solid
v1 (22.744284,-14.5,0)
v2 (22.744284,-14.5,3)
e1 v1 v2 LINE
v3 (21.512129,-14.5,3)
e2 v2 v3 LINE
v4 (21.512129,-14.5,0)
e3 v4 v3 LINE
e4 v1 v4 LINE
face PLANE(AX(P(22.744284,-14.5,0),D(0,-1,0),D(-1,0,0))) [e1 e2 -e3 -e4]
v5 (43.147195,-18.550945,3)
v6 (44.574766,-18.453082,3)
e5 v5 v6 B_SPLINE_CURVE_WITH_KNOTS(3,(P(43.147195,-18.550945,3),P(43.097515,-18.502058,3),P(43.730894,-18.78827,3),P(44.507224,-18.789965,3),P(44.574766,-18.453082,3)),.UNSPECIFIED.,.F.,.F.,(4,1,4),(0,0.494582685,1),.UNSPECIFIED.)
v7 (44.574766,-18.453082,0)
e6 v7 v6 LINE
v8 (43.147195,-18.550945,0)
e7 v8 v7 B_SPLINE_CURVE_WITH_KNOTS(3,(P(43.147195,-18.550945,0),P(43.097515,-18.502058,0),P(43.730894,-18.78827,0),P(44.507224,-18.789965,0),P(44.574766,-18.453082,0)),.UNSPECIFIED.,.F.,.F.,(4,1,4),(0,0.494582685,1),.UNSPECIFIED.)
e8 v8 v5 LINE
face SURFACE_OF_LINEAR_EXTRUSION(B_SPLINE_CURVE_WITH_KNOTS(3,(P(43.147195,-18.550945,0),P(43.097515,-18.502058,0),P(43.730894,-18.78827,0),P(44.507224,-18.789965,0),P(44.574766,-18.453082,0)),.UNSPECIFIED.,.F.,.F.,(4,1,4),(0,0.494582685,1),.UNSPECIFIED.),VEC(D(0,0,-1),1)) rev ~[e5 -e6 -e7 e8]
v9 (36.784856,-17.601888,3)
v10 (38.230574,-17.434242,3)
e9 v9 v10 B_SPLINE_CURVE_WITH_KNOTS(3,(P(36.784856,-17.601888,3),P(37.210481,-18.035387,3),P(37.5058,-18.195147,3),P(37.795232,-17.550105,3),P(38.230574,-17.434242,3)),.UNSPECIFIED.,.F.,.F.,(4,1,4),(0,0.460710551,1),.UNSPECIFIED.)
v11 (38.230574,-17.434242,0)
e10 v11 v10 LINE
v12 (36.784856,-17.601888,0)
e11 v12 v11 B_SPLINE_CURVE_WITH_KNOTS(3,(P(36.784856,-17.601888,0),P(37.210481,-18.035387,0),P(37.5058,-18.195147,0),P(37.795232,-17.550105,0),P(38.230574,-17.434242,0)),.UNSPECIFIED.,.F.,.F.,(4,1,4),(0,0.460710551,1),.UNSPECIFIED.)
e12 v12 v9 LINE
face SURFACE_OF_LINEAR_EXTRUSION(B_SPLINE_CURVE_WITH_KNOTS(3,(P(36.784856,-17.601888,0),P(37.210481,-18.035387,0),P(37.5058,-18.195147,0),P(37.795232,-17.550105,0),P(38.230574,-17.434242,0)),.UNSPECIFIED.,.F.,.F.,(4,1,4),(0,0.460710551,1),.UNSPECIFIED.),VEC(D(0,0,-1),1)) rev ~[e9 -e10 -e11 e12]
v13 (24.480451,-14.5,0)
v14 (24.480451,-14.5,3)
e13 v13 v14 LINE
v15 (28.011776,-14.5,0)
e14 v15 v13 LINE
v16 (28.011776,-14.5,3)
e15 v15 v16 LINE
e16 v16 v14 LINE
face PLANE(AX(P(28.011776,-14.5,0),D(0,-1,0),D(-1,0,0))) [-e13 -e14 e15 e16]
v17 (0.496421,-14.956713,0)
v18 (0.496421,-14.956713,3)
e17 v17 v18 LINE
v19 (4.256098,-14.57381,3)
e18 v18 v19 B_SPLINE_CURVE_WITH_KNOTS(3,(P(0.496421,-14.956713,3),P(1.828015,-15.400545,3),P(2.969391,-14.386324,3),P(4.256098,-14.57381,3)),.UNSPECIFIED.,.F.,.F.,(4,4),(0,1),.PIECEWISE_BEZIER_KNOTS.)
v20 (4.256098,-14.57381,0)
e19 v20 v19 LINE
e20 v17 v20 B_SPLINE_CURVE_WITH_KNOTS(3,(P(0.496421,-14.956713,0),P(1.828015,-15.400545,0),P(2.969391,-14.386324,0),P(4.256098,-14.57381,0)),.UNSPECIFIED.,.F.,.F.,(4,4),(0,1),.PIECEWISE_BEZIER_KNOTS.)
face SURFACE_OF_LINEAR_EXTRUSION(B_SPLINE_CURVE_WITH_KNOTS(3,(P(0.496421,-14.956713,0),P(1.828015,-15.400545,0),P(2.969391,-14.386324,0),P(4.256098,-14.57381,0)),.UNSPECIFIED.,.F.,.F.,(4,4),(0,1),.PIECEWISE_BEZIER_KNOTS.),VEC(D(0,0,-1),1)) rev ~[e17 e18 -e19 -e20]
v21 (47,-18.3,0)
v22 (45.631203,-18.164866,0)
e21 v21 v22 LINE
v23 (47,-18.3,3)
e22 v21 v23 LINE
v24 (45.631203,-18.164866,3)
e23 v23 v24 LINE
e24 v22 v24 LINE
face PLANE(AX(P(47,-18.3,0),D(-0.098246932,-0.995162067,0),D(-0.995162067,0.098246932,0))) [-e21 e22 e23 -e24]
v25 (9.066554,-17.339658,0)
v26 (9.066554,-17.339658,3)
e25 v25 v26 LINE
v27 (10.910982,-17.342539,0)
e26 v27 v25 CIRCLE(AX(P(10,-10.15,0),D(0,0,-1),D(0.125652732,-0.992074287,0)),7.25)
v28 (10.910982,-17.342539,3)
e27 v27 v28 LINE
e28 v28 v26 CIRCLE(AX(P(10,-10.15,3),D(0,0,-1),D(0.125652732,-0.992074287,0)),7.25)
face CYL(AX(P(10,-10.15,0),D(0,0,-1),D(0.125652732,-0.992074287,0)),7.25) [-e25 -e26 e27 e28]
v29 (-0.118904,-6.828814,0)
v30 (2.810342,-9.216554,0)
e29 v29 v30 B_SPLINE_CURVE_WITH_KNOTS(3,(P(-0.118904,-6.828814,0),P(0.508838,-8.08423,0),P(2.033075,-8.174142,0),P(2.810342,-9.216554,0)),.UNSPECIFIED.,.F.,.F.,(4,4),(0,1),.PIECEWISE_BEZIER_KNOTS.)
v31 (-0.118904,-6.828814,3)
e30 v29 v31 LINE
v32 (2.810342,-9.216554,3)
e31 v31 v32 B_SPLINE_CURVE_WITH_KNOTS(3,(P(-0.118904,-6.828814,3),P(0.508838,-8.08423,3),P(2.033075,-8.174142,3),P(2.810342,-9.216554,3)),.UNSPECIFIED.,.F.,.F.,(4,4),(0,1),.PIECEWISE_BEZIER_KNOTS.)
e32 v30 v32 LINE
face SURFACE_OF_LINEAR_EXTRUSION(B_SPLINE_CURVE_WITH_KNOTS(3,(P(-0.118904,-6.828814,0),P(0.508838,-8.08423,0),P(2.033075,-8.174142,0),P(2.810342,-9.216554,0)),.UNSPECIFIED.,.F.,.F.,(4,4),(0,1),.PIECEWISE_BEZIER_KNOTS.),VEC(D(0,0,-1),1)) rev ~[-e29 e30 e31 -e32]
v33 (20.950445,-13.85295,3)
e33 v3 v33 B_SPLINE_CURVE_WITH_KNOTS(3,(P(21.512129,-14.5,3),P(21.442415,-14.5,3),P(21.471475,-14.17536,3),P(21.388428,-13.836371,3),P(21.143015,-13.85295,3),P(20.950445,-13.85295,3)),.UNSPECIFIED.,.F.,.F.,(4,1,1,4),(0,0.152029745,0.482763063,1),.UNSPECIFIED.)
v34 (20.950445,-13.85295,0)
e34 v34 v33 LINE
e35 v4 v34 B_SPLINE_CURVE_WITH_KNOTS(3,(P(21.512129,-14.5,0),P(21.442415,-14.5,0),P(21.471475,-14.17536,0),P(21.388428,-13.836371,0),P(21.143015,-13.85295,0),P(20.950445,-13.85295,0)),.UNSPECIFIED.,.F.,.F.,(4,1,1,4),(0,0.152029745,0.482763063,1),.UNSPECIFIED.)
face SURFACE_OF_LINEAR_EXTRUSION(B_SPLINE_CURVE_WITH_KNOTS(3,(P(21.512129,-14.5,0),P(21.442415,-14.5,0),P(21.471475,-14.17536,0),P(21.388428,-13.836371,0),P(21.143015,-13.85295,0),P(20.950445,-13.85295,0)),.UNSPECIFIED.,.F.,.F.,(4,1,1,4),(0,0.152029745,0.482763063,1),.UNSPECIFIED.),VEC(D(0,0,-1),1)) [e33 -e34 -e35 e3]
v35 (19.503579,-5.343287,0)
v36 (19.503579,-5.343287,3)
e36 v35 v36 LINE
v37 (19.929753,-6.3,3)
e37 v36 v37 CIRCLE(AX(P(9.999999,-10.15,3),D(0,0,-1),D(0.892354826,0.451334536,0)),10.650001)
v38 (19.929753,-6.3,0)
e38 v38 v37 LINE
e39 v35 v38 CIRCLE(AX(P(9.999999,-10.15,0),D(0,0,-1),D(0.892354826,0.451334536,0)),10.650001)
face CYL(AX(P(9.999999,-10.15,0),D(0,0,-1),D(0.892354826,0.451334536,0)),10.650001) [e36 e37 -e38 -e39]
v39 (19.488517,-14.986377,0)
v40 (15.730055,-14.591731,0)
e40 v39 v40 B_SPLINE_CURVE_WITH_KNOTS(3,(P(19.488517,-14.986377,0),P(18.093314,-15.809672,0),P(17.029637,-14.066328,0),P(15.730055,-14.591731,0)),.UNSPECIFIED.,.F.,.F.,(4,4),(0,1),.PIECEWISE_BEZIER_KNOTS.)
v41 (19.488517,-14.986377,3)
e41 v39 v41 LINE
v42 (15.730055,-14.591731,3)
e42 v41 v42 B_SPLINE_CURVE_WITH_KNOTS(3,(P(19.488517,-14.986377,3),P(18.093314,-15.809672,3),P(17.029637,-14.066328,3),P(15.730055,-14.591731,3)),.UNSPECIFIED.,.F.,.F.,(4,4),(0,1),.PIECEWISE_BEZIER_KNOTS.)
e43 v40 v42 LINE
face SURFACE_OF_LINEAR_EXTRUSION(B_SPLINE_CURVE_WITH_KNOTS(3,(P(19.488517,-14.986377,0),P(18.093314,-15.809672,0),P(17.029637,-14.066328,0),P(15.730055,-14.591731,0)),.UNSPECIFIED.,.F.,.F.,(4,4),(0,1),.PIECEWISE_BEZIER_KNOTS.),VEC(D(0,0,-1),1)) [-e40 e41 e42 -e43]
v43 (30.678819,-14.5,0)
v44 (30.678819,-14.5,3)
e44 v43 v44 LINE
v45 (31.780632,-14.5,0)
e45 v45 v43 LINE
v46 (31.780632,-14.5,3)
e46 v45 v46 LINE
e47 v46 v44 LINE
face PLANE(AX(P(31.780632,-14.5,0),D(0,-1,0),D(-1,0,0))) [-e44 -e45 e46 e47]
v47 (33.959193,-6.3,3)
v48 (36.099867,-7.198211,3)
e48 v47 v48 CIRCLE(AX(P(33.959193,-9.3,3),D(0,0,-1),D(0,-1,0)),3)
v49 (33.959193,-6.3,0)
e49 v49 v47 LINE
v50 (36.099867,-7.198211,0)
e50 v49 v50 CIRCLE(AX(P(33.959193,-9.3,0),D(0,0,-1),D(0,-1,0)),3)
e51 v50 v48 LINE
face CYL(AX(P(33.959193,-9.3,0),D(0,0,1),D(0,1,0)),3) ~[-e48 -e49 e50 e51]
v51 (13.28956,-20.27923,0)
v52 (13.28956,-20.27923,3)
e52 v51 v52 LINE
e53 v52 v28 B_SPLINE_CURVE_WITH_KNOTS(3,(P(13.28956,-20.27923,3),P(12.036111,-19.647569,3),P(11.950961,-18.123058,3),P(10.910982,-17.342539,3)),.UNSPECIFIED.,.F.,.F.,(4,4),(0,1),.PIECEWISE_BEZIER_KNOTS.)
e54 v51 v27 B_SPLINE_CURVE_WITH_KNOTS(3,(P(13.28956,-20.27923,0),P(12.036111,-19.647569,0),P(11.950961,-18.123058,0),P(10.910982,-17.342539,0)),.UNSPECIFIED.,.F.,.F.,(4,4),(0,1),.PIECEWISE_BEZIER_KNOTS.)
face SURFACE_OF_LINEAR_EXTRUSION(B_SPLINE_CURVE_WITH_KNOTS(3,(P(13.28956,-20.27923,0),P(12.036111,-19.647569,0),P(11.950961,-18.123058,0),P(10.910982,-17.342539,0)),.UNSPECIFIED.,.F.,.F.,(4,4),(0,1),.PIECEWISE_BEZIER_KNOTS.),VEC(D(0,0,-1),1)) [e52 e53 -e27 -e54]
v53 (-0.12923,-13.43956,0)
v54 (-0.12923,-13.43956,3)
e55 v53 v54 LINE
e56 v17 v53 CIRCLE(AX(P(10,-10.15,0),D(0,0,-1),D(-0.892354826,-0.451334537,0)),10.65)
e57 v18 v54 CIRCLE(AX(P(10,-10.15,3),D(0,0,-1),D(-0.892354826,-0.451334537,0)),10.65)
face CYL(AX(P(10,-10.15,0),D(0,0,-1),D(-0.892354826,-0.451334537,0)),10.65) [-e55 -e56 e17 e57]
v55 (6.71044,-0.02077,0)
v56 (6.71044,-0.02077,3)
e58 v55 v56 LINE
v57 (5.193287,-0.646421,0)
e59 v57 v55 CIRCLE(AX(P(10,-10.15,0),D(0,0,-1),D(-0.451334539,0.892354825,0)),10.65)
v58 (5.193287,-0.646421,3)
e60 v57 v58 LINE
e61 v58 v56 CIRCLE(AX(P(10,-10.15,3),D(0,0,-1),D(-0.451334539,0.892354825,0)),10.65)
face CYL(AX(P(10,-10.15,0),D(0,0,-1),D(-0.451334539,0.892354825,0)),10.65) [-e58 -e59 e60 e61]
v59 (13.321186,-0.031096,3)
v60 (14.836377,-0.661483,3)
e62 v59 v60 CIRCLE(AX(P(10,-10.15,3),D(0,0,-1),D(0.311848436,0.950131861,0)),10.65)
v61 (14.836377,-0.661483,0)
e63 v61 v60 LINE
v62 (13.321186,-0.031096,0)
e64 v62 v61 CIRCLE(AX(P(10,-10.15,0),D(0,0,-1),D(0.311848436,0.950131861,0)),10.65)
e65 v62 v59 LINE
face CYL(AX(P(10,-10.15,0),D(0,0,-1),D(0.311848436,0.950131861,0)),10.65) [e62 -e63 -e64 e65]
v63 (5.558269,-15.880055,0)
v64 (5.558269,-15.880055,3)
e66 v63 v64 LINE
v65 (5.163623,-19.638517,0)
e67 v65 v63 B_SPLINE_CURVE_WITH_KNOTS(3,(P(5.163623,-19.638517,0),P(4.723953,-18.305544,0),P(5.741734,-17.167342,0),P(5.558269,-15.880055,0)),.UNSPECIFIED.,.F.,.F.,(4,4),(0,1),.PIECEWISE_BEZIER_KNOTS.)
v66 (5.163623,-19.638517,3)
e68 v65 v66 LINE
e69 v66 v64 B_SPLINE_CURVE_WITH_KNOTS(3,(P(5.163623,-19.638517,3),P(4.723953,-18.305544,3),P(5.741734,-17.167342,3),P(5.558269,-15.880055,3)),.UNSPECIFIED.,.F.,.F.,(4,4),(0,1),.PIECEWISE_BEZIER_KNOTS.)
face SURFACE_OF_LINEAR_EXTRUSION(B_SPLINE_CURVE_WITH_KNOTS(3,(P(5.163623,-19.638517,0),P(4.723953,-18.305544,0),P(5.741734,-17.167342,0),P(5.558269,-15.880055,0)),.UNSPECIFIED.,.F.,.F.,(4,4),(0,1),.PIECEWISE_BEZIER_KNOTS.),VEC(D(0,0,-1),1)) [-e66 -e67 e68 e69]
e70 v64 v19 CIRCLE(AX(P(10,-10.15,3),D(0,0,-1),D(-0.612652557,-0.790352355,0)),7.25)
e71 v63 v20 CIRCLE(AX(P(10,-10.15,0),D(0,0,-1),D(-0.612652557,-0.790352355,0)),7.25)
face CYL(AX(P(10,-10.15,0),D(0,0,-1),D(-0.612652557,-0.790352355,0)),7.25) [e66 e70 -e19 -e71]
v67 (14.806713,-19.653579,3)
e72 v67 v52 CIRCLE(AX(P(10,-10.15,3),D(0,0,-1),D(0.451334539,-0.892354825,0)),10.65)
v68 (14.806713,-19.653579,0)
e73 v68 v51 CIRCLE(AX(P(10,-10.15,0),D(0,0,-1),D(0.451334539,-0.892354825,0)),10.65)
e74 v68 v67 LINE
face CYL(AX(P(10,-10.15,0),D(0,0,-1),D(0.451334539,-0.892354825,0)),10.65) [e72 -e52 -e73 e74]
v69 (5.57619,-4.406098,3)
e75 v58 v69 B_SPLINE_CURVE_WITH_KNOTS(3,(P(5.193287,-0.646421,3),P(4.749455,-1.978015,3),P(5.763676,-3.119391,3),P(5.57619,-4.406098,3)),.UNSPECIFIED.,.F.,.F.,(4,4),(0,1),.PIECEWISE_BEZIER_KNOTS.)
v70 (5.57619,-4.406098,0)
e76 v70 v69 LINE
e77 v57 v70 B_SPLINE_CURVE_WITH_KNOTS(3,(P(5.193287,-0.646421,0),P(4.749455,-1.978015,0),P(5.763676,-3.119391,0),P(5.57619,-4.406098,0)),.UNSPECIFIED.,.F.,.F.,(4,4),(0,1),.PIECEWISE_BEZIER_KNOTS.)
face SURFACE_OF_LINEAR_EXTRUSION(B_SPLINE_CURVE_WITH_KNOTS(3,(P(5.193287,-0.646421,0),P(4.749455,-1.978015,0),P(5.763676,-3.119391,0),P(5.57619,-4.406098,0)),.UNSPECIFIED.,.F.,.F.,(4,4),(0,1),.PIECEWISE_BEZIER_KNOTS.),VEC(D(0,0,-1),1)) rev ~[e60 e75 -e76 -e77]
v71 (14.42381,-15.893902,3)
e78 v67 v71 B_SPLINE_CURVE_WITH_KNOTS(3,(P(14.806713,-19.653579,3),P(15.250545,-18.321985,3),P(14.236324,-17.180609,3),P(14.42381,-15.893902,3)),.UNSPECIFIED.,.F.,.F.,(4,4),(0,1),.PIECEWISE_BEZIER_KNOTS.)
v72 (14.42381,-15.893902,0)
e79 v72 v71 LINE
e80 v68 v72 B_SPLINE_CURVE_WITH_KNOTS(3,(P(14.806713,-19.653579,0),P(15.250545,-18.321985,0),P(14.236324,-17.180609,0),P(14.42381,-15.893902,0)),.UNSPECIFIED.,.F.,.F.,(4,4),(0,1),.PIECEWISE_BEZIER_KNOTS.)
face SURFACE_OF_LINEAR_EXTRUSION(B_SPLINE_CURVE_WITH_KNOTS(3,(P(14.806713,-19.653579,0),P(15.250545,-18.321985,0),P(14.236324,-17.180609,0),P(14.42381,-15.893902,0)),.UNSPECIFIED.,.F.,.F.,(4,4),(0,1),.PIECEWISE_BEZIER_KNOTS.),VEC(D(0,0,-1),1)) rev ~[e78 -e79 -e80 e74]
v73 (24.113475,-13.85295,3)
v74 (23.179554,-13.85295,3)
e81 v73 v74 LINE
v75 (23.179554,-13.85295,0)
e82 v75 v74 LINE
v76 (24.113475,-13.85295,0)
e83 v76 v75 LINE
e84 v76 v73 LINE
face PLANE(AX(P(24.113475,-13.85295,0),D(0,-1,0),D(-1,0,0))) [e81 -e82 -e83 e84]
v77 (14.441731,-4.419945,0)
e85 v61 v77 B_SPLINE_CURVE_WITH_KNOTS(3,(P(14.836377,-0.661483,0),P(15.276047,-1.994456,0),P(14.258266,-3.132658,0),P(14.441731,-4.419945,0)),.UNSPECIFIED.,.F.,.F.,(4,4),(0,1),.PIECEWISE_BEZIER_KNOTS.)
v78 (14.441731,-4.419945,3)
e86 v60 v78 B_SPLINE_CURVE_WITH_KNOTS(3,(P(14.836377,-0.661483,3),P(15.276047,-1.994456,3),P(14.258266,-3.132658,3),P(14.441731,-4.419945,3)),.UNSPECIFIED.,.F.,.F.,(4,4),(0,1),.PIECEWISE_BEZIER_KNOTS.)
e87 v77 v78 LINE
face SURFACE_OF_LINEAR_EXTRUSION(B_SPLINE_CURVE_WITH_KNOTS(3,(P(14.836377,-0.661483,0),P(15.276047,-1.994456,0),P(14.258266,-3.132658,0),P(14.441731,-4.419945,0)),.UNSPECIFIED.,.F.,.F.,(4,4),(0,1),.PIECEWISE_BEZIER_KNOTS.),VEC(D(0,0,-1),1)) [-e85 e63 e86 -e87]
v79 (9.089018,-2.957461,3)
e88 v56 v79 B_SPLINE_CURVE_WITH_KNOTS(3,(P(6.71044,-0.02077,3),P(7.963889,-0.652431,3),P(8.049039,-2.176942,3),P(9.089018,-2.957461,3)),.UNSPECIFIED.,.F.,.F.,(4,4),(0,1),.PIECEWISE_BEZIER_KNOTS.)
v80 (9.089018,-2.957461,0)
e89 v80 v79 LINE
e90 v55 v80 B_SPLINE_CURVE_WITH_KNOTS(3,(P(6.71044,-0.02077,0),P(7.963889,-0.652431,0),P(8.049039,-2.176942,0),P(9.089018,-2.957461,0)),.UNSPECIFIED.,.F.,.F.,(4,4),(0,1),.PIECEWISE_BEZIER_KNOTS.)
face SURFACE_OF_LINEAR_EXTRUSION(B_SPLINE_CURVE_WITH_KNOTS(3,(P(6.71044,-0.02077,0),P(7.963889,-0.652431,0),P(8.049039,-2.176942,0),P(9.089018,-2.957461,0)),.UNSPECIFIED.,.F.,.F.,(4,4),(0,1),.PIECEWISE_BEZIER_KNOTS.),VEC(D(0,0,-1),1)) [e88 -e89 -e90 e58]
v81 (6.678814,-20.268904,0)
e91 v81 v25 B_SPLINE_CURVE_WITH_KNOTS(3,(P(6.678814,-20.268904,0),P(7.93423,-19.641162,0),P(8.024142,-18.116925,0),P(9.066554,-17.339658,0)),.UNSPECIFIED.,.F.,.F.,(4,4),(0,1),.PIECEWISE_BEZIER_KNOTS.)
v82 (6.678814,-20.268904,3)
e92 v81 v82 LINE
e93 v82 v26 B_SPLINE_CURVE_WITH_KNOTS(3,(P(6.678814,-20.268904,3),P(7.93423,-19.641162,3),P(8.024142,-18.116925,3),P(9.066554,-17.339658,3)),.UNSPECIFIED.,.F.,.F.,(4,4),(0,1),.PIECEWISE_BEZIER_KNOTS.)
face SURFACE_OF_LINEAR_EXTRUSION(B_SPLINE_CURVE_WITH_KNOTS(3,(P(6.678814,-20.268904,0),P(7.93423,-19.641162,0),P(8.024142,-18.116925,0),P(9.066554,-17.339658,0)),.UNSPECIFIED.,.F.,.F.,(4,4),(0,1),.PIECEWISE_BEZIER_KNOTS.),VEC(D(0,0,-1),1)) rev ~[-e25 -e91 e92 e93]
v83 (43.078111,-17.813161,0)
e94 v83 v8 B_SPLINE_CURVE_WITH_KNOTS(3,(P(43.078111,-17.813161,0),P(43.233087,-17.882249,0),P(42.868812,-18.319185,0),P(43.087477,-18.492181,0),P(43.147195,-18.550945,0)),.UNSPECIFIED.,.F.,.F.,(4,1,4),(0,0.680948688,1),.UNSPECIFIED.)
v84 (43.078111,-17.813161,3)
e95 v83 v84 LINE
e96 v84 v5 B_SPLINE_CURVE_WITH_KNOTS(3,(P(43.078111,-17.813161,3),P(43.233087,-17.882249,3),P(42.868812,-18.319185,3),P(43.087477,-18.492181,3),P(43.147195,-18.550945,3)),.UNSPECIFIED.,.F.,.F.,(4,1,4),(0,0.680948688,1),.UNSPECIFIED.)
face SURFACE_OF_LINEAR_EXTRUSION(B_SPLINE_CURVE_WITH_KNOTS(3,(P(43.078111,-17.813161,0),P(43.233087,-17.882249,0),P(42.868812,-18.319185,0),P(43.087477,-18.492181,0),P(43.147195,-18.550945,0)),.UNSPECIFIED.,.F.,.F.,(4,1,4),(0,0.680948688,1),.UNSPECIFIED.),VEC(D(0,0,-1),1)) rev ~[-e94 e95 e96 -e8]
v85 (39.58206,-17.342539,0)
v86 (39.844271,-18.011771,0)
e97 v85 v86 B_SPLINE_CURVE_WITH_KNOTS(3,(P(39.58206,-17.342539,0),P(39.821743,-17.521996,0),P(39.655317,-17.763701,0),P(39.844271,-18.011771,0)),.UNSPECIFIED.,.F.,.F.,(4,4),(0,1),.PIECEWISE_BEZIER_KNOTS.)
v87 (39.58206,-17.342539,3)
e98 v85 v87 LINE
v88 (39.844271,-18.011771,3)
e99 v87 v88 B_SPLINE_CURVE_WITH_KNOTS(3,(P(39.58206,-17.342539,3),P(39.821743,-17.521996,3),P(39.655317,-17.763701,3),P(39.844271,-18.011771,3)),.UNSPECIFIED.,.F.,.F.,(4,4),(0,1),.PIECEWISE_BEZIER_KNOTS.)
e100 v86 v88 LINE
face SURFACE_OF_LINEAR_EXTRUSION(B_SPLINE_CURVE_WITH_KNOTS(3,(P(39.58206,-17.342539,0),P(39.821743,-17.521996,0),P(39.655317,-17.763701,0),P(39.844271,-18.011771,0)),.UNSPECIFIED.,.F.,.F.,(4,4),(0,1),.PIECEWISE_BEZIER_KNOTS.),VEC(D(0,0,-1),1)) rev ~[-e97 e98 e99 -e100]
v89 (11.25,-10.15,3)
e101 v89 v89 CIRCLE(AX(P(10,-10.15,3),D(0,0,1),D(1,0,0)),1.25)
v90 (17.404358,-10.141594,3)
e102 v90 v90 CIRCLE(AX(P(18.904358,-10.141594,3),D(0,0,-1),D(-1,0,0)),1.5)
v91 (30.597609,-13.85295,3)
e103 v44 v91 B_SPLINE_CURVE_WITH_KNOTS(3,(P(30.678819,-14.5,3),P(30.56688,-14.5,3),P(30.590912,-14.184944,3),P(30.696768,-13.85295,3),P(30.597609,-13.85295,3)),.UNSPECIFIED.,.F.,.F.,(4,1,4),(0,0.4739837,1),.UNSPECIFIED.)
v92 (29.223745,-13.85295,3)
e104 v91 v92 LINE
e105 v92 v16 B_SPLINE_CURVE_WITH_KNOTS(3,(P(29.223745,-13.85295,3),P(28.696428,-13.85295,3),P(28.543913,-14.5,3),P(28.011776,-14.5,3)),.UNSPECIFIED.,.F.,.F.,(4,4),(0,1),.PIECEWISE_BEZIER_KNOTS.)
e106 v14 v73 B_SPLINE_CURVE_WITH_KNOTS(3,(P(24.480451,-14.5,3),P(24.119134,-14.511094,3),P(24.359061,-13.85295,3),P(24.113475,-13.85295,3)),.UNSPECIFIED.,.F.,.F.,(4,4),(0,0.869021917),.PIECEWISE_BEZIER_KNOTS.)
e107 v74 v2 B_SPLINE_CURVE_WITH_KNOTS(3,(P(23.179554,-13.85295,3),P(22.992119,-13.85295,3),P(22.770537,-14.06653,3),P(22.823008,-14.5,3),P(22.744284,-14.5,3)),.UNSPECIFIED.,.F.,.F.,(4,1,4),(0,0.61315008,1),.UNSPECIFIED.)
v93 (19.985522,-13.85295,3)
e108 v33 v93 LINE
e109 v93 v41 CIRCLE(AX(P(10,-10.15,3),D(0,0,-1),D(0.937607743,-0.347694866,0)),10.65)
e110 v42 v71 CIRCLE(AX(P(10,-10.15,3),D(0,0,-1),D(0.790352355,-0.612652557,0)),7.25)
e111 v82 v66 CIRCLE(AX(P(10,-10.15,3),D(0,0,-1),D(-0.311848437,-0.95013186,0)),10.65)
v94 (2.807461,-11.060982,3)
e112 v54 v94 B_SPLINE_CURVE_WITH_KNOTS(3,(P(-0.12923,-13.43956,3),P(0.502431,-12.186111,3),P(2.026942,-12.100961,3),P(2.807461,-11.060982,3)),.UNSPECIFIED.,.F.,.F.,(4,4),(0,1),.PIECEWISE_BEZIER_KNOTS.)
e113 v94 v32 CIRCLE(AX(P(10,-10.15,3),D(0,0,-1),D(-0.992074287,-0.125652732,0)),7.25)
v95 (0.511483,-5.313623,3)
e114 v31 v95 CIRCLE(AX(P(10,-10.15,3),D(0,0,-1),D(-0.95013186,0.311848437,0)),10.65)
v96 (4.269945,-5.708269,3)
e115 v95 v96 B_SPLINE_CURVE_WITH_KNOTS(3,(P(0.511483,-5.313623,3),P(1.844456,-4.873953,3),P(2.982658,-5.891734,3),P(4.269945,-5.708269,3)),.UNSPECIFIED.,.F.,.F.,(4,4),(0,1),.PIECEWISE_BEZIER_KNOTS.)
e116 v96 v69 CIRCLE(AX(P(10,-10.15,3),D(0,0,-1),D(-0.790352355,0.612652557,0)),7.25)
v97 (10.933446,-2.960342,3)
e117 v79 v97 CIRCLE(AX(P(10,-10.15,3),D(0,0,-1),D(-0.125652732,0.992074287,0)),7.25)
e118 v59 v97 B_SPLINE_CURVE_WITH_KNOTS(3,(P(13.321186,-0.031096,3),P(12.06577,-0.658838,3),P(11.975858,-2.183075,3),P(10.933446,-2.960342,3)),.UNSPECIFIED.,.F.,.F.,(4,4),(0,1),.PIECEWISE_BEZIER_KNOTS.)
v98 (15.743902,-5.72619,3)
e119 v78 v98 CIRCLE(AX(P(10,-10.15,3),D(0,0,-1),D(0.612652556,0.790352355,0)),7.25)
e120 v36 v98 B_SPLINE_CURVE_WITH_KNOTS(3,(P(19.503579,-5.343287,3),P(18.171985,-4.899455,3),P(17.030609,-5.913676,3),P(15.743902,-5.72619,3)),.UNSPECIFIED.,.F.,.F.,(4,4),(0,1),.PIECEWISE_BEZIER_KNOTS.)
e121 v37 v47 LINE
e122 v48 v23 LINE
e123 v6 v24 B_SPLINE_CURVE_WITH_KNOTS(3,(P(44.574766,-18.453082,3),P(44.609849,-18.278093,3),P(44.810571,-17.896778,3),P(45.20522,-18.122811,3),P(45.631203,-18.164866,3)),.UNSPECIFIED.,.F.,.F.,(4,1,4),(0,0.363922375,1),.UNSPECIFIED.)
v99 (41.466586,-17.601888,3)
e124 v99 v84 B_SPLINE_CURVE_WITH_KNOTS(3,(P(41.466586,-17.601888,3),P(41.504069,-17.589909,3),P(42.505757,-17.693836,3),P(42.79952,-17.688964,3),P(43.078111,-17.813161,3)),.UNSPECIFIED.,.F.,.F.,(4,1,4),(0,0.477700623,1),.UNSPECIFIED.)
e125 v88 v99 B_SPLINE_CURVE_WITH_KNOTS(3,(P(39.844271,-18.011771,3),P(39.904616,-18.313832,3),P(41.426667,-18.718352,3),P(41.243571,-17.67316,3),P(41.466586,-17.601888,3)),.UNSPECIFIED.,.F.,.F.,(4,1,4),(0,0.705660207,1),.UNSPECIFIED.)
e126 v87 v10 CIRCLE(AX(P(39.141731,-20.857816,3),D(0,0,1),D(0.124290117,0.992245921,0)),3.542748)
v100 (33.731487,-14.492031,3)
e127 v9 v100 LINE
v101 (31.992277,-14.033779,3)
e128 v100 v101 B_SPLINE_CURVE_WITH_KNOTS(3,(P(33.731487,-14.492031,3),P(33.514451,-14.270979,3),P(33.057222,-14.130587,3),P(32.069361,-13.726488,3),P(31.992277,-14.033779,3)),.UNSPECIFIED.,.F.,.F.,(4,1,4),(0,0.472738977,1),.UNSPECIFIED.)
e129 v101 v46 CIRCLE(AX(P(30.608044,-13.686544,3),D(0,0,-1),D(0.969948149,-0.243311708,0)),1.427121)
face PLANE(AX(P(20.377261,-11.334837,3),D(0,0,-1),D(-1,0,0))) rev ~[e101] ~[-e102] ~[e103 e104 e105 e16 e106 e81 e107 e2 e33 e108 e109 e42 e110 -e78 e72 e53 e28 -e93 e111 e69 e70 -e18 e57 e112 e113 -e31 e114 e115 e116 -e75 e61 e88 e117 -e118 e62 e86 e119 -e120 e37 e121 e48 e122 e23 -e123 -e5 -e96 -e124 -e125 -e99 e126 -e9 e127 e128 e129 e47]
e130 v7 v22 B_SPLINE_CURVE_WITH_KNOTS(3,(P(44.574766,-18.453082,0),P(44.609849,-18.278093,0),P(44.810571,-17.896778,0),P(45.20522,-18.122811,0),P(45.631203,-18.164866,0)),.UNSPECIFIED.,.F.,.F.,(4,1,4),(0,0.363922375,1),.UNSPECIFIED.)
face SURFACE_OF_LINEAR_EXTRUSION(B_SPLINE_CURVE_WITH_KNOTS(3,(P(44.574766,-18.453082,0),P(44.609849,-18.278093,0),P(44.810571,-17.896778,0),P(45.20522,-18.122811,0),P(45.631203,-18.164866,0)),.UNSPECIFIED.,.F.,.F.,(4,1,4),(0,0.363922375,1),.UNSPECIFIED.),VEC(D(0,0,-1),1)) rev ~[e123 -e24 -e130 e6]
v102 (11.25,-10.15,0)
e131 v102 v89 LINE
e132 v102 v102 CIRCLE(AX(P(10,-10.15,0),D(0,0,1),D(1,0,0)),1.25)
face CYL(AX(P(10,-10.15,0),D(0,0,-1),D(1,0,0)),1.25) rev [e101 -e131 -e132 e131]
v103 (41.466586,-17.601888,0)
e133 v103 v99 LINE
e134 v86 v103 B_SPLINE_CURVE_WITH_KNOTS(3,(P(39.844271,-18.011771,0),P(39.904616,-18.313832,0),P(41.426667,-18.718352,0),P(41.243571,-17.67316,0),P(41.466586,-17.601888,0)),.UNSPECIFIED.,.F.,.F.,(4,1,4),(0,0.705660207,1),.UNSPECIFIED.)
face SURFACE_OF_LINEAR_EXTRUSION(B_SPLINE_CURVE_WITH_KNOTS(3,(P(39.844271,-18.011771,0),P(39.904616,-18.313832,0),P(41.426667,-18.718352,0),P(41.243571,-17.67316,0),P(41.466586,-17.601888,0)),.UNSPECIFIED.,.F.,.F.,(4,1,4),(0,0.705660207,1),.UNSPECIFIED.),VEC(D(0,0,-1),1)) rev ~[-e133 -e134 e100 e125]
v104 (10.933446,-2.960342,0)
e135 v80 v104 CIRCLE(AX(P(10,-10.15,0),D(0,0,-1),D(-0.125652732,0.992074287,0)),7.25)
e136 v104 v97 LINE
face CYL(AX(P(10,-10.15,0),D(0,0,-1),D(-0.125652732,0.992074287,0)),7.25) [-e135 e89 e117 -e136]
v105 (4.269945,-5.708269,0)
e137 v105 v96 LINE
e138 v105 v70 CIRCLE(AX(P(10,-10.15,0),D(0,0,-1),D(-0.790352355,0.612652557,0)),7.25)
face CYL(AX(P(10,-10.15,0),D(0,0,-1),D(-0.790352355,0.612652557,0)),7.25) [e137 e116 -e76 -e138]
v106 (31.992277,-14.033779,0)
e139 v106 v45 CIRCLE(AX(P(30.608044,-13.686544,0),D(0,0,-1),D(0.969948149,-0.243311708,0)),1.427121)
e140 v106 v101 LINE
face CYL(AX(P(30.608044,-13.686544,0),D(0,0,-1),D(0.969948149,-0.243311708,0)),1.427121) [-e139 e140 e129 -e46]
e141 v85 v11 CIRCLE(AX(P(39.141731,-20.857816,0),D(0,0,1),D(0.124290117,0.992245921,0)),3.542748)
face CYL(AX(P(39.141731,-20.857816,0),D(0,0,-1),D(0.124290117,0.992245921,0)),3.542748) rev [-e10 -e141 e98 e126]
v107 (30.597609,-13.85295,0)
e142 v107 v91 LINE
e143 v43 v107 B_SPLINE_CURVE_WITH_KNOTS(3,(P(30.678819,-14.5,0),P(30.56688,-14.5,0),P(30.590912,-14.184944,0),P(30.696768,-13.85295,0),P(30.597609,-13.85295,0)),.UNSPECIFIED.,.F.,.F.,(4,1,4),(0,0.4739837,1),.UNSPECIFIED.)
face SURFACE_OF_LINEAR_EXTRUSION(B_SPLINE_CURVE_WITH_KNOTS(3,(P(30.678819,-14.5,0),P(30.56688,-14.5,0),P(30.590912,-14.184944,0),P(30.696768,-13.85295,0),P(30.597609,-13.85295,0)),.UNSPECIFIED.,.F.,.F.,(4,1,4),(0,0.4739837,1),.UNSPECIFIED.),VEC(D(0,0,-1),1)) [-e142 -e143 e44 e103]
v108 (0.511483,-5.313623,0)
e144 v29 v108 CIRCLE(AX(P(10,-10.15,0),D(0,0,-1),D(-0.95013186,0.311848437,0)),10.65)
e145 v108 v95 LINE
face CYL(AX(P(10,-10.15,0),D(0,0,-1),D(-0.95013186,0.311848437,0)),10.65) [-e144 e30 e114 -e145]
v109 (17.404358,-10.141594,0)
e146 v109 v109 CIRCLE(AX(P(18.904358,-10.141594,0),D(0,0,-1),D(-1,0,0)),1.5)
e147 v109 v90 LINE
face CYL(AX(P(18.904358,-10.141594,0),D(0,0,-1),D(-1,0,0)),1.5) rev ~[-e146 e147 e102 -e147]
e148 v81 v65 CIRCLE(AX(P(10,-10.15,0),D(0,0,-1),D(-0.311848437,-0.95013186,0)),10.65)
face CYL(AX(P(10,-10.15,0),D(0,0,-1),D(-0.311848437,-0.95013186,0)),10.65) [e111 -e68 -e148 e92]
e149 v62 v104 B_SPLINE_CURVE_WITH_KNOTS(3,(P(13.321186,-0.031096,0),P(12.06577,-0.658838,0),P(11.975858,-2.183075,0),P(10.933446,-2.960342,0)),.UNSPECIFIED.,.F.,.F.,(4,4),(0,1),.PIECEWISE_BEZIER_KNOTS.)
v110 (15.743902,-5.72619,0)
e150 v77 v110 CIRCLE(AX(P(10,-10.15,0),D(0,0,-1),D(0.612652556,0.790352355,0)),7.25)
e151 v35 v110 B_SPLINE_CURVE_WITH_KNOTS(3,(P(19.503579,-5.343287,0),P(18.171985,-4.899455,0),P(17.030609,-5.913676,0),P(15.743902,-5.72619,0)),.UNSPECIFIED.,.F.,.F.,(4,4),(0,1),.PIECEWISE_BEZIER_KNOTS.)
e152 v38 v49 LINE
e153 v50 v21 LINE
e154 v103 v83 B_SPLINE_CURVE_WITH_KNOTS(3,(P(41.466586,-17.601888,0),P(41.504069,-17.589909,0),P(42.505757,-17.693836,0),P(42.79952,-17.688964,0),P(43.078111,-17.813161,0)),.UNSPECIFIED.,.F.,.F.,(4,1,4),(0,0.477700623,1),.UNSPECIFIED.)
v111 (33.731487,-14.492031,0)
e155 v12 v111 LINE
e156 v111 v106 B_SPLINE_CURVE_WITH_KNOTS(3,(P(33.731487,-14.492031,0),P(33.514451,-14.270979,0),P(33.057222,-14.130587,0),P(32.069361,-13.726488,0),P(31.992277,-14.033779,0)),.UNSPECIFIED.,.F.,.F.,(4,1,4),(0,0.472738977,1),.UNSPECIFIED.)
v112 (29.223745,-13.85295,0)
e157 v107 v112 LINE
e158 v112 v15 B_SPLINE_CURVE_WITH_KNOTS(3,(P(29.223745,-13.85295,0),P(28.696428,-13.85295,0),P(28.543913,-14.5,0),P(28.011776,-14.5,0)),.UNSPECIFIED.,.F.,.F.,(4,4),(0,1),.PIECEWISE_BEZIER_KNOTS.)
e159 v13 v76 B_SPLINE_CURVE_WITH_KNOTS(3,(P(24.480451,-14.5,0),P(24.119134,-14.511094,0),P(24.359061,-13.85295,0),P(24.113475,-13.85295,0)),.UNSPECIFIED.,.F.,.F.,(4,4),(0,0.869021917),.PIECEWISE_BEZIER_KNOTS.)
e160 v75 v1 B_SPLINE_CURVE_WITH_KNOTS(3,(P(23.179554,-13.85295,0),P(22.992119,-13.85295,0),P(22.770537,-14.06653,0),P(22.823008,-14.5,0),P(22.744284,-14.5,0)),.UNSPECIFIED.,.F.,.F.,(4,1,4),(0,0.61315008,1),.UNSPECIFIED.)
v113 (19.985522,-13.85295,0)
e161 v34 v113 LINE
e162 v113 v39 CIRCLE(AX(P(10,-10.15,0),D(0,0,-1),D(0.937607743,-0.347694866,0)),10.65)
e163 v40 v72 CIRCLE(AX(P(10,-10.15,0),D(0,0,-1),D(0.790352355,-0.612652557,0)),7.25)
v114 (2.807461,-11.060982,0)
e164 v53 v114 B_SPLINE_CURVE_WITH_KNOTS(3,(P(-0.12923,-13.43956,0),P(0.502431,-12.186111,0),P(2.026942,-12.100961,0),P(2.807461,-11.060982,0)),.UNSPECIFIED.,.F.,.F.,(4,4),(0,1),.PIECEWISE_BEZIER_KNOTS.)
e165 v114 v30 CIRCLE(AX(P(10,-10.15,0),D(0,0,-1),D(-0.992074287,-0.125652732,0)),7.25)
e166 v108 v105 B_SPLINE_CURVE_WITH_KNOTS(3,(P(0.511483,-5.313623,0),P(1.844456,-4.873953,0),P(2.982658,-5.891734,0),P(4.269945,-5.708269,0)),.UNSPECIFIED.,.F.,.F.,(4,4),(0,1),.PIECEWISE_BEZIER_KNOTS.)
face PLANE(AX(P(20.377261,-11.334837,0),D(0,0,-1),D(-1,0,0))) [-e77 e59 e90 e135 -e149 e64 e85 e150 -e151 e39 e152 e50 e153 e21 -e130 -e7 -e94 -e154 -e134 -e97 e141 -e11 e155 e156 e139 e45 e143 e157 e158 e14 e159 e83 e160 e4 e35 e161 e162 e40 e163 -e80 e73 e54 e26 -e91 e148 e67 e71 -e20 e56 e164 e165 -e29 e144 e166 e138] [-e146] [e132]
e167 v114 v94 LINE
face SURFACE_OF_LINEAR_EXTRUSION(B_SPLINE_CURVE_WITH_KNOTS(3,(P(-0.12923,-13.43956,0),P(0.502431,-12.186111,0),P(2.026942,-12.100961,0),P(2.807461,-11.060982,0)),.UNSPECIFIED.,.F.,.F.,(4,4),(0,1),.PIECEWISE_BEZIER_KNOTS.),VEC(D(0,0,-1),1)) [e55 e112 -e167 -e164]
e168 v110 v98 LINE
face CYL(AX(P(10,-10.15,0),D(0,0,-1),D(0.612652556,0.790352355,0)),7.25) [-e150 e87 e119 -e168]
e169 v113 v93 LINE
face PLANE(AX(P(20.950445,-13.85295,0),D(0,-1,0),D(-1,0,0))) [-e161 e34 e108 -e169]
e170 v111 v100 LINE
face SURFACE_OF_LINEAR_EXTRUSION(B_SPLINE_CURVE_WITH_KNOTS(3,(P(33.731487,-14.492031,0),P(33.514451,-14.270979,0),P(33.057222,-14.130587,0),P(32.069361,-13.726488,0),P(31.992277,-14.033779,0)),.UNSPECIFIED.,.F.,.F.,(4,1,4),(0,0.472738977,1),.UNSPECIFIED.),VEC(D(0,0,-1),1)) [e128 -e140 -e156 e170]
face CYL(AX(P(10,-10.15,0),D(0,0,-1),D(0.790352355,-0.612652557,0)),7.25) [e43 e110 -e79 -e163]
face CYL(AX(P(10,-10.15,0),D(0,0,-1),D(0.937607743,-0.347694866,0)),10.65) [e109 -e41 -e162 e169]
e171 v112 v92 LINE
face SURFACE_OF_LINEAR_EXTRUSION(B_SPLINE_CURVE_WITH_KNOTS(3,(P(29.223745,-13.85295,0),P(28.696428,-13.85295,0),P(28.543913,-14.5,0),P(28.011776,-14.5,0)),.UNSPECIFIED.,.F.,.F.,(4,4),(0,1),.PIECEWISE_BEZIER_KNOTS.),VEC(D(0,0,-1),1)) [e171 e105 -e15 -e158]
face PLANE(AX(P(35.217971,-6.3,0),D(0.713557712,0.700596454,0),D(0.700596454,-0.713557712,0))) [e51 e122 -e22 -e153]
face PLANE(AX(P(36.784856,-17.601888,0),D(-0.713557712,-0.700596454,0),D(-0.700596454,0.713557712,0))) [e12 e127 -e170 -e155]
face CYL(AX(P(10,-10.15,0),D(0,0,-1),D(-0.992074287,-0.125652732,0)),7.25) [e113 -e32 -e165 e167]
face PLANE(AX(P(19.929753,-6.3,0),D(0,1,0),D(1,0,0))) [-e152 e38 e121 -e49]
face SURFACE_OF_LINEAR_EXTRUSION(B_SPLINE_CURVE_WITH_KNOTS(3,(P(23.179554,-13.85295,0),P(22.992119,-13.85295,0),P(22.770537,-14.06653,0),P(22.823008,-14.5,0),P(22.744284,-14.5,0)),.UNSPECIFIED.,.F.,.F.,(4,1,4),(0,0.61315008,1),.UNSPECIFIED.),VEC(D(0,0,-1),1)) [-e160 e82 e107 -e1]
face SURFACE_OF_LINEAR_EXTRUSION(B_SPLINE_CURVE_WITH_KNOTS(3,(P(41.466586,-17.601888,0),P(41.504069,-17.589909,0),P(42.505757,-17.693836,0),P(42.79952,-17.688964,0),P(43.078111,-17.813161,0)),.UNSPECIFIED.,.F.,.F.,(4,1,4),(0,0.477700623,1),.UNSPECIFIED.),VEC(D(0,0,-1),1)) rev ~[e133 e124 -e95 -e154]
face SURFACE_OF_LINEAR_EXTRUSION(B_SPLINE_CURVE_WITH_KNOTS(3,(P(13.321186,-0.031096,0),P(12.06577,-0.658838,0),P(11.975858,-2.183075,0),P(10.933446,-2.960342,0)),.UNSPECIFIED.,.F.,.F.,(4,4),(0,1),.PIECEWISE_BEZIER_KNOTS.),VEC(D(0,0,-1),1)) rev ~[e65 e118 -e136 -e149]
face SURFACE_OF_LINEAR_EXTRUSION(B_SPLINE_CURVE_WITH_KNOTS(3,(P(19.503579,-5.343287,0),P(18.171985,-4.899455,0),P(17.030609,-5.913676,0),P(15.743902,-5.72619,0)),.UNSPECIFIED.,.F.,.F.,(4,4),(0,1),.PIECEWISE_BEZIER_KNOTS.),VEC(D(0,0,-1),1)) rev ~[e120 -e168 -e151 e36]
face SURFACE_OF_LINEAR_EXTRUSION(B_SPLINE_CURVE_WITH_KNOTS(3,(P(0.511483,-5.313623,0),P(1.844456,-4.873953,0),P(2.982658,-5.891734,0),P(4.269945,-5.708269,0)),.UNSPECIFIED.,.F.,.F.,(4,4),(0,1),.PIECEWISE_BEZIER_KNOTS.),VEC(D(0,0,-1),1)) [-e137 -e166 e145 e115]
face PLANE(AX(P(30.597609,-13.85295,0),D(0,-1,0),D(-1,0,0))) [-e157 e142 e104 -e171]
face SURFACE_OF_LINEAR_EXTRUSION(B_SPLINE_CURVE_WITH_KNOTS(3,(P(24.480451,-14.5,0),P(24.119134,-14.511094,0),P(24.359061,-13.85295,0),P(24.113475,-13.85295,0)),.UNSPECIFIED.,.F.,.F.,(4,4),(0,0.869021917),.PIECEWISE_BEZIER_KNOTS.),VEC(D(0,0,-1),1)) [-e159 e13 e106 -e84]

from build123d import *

# Parameters (mm, degrees)
ESQUISSE1_R             = 1.25
BOSS_EXTRU_1_DEPTH      = 3
CONG_1_R                = 3
ESQUISSE2_R             = 1.5
ENL_V_MAT_EXTRU_1_DEPTH = 10


with BuildPart() as part:
    # Esquisse1 → Boss.-Extru.1 (new body)
    with BuildSketch(Plane.XY):
        with BuildLine():
            Line((19.92975327, -6.3), (35.217971298, -6.3))
            Line((35.217971298, -6.3), (47, -18.3))
            Line((47, -18.3), (45.631202596, -18.164866086))
            add(Edge.make_bspline(
                [(44.574765673, -18.453081845), (44.609849099, -18.278093463), (44.810570852, -17.89677836), (45.205219796, -18.122811123), (45.631202596, -18.164866086)],
                knots=[0, 0, 0, 0, 0.363922375, 1, 1, 1, 1], degree=3))
            add(Edge.make_bspline(
                [(43.14719525, -18.550945105), (43.09751522, -18.50205817), (43.730894007, -18.788269797), (44.507224039, -18.789964599), (44.574765673, -18.453081845)],
                knots=[0, 0, 0, 0, 0.494582685, 1, 1, 1, 1], degree=3))
            add(Edge.make_bspline(
                [(43.078110836, -17.813160677), (43.233086748, -17.882249489), (42.868812221, -18.319185258), (43.087477408, -18.492180602), (43.14719525, -18.550945105)],
                knots=[0, 0, 0, 0, 0.680948688, 1, 1, 1, 1], degree=3))
            add(Edge.make_bspline(
                [(41.466586273, -17.601888285), (41.504069337, -17.589909306), (42.505756712, -17.693836279), (42.799520207, -17.688963985), (43.078110836, -17.813160677)],
                knots=[0, 0, 0, 0, 0.477700623, 1, 1, 1, 1], degree=3))
            add(Edge.make_bspline(
                [(39.844270523, -18.01177052), (39.904616243, -18.313831866), (41.426666849, -18.718352059), (41.243571394, -17.673160221), (41.466586273, -17.601888285)],
                knots=[0, 0, 0, 0, 0.705660207, 1, 1, 1, 1], degree=3))
            add(Edge.make_bspline(
                [(39.582059604, -17.342538581), (39.82174321, -17.521996239), (39.65531727, -17.763700919), (39.844270523, -18.01177052)],
                knots=[0, 0, 0, 0, 1, 1, 1, 1], degree=3))
            ThreePointArc((39.582059604, -17.342538581), (38.901892941, -17.323195475), (38.230573756, -17.434242297))
            add(Edge.make_bspline(
                [(36.784856269, -17.601888285), (37.210480557, -18.035386759), (37.505799664, -18.195146881), (37.795231884, -17.550105131), (38.230573756, -17.434242297)],
                knots=[0, 0, 0, 0, 0.460710551, 1, 1, 1, 1], degree=3))
            Line((36.784856269, -17.601888285), (33.731487311, -14.492031025))
            add(Edge.make_bspline(
                [(33.731487311, -14.492031025), (33.514450956, -14.270979429), (33.057221931, -14.130586993), (32.069360868, -13.726488082), (31.99227695, -14.033778698)],
                knots=[0, 0, 0, 0, 0.472738977, 1, 1, 1, 1], degree=3))
            ThreePointArc((31.99227695, -14.033778698), (31.907533679, -14.27645853), (31.780631614, -14.5))
            Line((31.780631614, -14.5), (30.678819449, -14.5))
            add(Edge.make_bspline(
                [(30.678819449, -14.5), (30.566879888, -14.5), (30.590912004, -14.184943581), (30.696767567, -13.852950327), (30.597609057, -13.852950327)],
                knots=[0, 0, 0, 0, 0.4739837, 1, 1, 1, 1], degree=3))
            Line((30.597609057, -13.852950327), (29.223744999, -13.852950327))
            add(Edge.make_bspline(
                [(29.223744999, -13.852950327), (28.69642769, -13.852950327), (28.543913483, -14.5), (28.011775663, -14.5)],
                knots=[0, 0, 0, 0, 1, 1, 1, 1], degree=3))
            Line((28.011775663, -14.5), (24.480450971, -14.5))
            add(Edge.make_bspline(
                [(24.480450971, -14.5), (24.119134276, -14.511094497), (24.35906075, -13.852950327), (24.113474847, -13.852950327)],
                knots=[0, 0, 0, 0, 0.869021917, 0.869021917, 0.869021917, 0.869021917], degree=3))
            Line((24.113474847, -13.852950327), (23.179553753, -13.852950327))
            add(Edge.make_bspline(
                [(23.179553753, -13.852950327), (22.992119455, -13.852950327), (22.770536848, -14.066530423), (22.823007832, -14.5), (22.744283986, -14.5)],
                knots=[0, 0, 0, 0, 0.61315008, 1, 1, 1, 1], degree=3))
            Line((22.744283986, -14.5), (21.51212894, -14.5))
            add(Edge.make_bspline(
                [(21.51212894, -14.5), (21.442415292, -14.5), (21.471474766, -14.175360412), (21.388427589, -13.83637058), (21.143014821, -13.852950327), (20.950444947, -13.852950327)],
                knots=[0, 0, 0, 0, 0.152029745, 0.482763063, 1, 1, 1, 1], degree=3))
            Line((20.950444947, -13.852950327), (19.985522464, -13.852950327))
            ThreePointArc((19.985522464, -13.852950327), (19.75349781, -14.426889112), (19.488517244, -14.986376796))
            add(Edge.make_bspline(
                [(19.488517244, -14.986376796), (18.093314004, -15.809671906), (17.029637143, -14.066327863), (15.730054573, -14.591731036)],
                knots=[0, 0, 0, 0, 1, 1, 1, 1], degree=3))
            ThreePointArc((15.730054573, -14.591731036), (15.118510747, -15.284525074), (14.42380974, -15.893901756))
            add(Edge.make_bspline(
                [(14.806712838, -19.653578889), (15.250545236, -18.321985455), (14.236323883, -17.180609482), (14.42380974, -15.893901756)],
                knots=[0, 0, 0, 0, 1, 1, 1, 1], degree=3))
            ThreePointArc((14.806712838, -19.653578889), (14.060205467, -19.995670702), (13.289560057, -20.279229716))
            add(Edge.make_bspline(
                [(13.289560057, -20.279229716), (12.036111486, -19.647569245), (11.950961464, -18.123058328), (10.910982309, -17.342538581)],
                knots=[0, 0, 0, 0, 1, 1, 1, 1], degree=3))
            ThreePointArc((10.910982309, -17.342538581), (9.988676161, -17.399991157), (9.066553984, -17.339657748))
            add(Edge.make_bspline(
                [(6.678814165, -20.268904321), (7.93422981, -19.641162472), (8.024141705, -18.116924986), (9.066553984, -17.339657748)],
                knots=[0, 0, 0, 0, 1, 1, 1, 1], degree=3))
            ThreePointArc((6.678814165, -20.268904321), (5.909058301, -19.982939337), (5.163623204, -19.638517244))
            add(Edge.make_bspline(
                [(5.163623204, -19.638517244), (4.723952621, -18.305543857), (5.74173447, -17.167341691), (5.558268964, -15.880054573)],
                knots=[0, 0, 0, 0, 1, 1, 1, 1], degree=3))
            ThreePointArc((5.558268964, -15.880054573), (4.865474926, -15.268510747), (4.256098244, -14.573809741))
            add(Edge.make_bspline(
                [(0.496421111, -14.956712838), (1.828014545, -15.400545236), (2.969390518, -14.386323883), (4.256098244, -14.573809741)],
                knots=[0, 0, 0, 0, 1, 1, 1, 1], degree=3))
            ThreePointArc((0.496421111, -14.956712838), (0.154329299, -14.210205467), (-0.129229715, -13.439560057))
            add(Edge.make_bspline(
                [(-0.129229715, -13.439560057), (0.502430755, -12.186111486), (2.026941672, -12.100961464), (2.807461419, -11.060982309)],
                knots=[0, 0, 0, 0, 1, 1, 1, 1], degree=3))
            ThreePointArc((2.807461419, -11.060982309), (2.750008843, -10.138676161), (2.810342252, -9.216553984))
            add(Edge.make_bspline(
                [(-0.118904321, -6.828814165), (0.508837528, -8.08422981), (2.033075015, -8.174141705), (2.810342252, -9.216553984)],
                knots=[0, 0, 0, 0, 1, 1, 1, 1], degree=3))
            ThreePointArc((-0.118904321, -6.828814165), (0.167060663, -6.059058301), (0.511482756, -5.313623204))
            add(Edge.make_bspline(
                [(0.511482756, -5.313623204), (1.844456143, -4.873952621), (2.982658309, -5.89173447), (4.269945427, -5.708268964)],
                knots=[0, 0, 0, 0, 1, 1, 1, 1], degree=3))
            ThreePointArc((4.269945427, -5.708268964), (4.881489253, -5.015474926), (5.57619026, -4.406098244))
            add(Edge.make_bspline(
                [(5.193287162, -0.646421111), (4.749454764, -1.978014545), (5.763676116, -3.119390518), (5.57619026, -4.406098244)],
                knots=[0, 0, 0, 0, 1, 1, 1, 1], degree=3))
            ThreePointArc((5.193287162, -0.646421111), (5.939794533, -0.304329298), (6.710439943, -0.020770284))
            add(Edge.make_bspline(
                [(6.710439943, -0.020770284), (7.963888514, -0.652430755), (8.049038536, -2.176941672), (9.089017691, -2.957461419)],
                knots=[0, 0, 0, 0, 1, 1, 1, 1], degree=3))
            ThreePointArc((9.089017691, -2.957461419), (10.011323839, -2.900008843), (10.933446016, -2.960342252))
            add(Edge.make_bspline(
                [(13.321185835, -0.031095679), (12.06577019, -0.658837528), (11.975858295, -2.183075014), (10.933446016, -2.960342252)],
                knots=[0, 0, 0, 0, 1, 1, 1, 1], degree=3))
            ThreePointArc((13.321185835, -0.031095679), (14.0909417, -0.317060663), (14.836376797, -0.661482756))
            add(Edge.make_bspline(
                [(14.836376797, -0.661482756), (15.276047379, -1.994456143), (14.25826553, -3.132658309), (14.441731036, -4.419945428)],
                knots=[0, 0, 0, 0, 1, 1, 1, 1], degree=3))
            ThreePointArc((14.441731036, -4.419945428), (15.134525074, -5.031489253), (15.743901756, -5.72619026))
            add(Edge.make_bspline(
                [(19.503578889, -5.343287162), (18.171985455, -4.899454764), (17.030609482, -5.913676116), (15.743901756, -5.72619026)],
                knots=[0, 0, 0, 0, 1, 1, 1, 1], degree=3))
            ThreePointArc((19.503578889, -5.343287162), (19.728433818, -5.81640156), (19.92975327, -6.3))
        make_face()
        with Locations((10, -10.15)):
            Circle(ESQUISSE1_R, mode=Mode.SUBTRACT)
    extrude(amount=BOSS_EXTRU_1_DEPTH)

    # Congé1
    cong_1_edges = [part.edges().sort_by_distance(p)[0] for p in [
        (35.217971298, -6.3, 1.5),
    ]]
    fillet(cong_1_edges, radius=CONG_1_R)

    # Esquisse2 → Enlèv. mat.-Extru.1 (cut)
    with BuildSketch(Plane(origin=(0, 0, 0), x_dir=(-1, 0, 0), z_dir=(0, 0, -1))):
        with Locations((-18.904357786, -10.141593779)):
            Circle(ESQUISSE2_R)
    extrude(amount=-ENL_V_MAT_EXTRU_1_DEPTH, mode=Mode.SUBTRACT)


solid = part.part
